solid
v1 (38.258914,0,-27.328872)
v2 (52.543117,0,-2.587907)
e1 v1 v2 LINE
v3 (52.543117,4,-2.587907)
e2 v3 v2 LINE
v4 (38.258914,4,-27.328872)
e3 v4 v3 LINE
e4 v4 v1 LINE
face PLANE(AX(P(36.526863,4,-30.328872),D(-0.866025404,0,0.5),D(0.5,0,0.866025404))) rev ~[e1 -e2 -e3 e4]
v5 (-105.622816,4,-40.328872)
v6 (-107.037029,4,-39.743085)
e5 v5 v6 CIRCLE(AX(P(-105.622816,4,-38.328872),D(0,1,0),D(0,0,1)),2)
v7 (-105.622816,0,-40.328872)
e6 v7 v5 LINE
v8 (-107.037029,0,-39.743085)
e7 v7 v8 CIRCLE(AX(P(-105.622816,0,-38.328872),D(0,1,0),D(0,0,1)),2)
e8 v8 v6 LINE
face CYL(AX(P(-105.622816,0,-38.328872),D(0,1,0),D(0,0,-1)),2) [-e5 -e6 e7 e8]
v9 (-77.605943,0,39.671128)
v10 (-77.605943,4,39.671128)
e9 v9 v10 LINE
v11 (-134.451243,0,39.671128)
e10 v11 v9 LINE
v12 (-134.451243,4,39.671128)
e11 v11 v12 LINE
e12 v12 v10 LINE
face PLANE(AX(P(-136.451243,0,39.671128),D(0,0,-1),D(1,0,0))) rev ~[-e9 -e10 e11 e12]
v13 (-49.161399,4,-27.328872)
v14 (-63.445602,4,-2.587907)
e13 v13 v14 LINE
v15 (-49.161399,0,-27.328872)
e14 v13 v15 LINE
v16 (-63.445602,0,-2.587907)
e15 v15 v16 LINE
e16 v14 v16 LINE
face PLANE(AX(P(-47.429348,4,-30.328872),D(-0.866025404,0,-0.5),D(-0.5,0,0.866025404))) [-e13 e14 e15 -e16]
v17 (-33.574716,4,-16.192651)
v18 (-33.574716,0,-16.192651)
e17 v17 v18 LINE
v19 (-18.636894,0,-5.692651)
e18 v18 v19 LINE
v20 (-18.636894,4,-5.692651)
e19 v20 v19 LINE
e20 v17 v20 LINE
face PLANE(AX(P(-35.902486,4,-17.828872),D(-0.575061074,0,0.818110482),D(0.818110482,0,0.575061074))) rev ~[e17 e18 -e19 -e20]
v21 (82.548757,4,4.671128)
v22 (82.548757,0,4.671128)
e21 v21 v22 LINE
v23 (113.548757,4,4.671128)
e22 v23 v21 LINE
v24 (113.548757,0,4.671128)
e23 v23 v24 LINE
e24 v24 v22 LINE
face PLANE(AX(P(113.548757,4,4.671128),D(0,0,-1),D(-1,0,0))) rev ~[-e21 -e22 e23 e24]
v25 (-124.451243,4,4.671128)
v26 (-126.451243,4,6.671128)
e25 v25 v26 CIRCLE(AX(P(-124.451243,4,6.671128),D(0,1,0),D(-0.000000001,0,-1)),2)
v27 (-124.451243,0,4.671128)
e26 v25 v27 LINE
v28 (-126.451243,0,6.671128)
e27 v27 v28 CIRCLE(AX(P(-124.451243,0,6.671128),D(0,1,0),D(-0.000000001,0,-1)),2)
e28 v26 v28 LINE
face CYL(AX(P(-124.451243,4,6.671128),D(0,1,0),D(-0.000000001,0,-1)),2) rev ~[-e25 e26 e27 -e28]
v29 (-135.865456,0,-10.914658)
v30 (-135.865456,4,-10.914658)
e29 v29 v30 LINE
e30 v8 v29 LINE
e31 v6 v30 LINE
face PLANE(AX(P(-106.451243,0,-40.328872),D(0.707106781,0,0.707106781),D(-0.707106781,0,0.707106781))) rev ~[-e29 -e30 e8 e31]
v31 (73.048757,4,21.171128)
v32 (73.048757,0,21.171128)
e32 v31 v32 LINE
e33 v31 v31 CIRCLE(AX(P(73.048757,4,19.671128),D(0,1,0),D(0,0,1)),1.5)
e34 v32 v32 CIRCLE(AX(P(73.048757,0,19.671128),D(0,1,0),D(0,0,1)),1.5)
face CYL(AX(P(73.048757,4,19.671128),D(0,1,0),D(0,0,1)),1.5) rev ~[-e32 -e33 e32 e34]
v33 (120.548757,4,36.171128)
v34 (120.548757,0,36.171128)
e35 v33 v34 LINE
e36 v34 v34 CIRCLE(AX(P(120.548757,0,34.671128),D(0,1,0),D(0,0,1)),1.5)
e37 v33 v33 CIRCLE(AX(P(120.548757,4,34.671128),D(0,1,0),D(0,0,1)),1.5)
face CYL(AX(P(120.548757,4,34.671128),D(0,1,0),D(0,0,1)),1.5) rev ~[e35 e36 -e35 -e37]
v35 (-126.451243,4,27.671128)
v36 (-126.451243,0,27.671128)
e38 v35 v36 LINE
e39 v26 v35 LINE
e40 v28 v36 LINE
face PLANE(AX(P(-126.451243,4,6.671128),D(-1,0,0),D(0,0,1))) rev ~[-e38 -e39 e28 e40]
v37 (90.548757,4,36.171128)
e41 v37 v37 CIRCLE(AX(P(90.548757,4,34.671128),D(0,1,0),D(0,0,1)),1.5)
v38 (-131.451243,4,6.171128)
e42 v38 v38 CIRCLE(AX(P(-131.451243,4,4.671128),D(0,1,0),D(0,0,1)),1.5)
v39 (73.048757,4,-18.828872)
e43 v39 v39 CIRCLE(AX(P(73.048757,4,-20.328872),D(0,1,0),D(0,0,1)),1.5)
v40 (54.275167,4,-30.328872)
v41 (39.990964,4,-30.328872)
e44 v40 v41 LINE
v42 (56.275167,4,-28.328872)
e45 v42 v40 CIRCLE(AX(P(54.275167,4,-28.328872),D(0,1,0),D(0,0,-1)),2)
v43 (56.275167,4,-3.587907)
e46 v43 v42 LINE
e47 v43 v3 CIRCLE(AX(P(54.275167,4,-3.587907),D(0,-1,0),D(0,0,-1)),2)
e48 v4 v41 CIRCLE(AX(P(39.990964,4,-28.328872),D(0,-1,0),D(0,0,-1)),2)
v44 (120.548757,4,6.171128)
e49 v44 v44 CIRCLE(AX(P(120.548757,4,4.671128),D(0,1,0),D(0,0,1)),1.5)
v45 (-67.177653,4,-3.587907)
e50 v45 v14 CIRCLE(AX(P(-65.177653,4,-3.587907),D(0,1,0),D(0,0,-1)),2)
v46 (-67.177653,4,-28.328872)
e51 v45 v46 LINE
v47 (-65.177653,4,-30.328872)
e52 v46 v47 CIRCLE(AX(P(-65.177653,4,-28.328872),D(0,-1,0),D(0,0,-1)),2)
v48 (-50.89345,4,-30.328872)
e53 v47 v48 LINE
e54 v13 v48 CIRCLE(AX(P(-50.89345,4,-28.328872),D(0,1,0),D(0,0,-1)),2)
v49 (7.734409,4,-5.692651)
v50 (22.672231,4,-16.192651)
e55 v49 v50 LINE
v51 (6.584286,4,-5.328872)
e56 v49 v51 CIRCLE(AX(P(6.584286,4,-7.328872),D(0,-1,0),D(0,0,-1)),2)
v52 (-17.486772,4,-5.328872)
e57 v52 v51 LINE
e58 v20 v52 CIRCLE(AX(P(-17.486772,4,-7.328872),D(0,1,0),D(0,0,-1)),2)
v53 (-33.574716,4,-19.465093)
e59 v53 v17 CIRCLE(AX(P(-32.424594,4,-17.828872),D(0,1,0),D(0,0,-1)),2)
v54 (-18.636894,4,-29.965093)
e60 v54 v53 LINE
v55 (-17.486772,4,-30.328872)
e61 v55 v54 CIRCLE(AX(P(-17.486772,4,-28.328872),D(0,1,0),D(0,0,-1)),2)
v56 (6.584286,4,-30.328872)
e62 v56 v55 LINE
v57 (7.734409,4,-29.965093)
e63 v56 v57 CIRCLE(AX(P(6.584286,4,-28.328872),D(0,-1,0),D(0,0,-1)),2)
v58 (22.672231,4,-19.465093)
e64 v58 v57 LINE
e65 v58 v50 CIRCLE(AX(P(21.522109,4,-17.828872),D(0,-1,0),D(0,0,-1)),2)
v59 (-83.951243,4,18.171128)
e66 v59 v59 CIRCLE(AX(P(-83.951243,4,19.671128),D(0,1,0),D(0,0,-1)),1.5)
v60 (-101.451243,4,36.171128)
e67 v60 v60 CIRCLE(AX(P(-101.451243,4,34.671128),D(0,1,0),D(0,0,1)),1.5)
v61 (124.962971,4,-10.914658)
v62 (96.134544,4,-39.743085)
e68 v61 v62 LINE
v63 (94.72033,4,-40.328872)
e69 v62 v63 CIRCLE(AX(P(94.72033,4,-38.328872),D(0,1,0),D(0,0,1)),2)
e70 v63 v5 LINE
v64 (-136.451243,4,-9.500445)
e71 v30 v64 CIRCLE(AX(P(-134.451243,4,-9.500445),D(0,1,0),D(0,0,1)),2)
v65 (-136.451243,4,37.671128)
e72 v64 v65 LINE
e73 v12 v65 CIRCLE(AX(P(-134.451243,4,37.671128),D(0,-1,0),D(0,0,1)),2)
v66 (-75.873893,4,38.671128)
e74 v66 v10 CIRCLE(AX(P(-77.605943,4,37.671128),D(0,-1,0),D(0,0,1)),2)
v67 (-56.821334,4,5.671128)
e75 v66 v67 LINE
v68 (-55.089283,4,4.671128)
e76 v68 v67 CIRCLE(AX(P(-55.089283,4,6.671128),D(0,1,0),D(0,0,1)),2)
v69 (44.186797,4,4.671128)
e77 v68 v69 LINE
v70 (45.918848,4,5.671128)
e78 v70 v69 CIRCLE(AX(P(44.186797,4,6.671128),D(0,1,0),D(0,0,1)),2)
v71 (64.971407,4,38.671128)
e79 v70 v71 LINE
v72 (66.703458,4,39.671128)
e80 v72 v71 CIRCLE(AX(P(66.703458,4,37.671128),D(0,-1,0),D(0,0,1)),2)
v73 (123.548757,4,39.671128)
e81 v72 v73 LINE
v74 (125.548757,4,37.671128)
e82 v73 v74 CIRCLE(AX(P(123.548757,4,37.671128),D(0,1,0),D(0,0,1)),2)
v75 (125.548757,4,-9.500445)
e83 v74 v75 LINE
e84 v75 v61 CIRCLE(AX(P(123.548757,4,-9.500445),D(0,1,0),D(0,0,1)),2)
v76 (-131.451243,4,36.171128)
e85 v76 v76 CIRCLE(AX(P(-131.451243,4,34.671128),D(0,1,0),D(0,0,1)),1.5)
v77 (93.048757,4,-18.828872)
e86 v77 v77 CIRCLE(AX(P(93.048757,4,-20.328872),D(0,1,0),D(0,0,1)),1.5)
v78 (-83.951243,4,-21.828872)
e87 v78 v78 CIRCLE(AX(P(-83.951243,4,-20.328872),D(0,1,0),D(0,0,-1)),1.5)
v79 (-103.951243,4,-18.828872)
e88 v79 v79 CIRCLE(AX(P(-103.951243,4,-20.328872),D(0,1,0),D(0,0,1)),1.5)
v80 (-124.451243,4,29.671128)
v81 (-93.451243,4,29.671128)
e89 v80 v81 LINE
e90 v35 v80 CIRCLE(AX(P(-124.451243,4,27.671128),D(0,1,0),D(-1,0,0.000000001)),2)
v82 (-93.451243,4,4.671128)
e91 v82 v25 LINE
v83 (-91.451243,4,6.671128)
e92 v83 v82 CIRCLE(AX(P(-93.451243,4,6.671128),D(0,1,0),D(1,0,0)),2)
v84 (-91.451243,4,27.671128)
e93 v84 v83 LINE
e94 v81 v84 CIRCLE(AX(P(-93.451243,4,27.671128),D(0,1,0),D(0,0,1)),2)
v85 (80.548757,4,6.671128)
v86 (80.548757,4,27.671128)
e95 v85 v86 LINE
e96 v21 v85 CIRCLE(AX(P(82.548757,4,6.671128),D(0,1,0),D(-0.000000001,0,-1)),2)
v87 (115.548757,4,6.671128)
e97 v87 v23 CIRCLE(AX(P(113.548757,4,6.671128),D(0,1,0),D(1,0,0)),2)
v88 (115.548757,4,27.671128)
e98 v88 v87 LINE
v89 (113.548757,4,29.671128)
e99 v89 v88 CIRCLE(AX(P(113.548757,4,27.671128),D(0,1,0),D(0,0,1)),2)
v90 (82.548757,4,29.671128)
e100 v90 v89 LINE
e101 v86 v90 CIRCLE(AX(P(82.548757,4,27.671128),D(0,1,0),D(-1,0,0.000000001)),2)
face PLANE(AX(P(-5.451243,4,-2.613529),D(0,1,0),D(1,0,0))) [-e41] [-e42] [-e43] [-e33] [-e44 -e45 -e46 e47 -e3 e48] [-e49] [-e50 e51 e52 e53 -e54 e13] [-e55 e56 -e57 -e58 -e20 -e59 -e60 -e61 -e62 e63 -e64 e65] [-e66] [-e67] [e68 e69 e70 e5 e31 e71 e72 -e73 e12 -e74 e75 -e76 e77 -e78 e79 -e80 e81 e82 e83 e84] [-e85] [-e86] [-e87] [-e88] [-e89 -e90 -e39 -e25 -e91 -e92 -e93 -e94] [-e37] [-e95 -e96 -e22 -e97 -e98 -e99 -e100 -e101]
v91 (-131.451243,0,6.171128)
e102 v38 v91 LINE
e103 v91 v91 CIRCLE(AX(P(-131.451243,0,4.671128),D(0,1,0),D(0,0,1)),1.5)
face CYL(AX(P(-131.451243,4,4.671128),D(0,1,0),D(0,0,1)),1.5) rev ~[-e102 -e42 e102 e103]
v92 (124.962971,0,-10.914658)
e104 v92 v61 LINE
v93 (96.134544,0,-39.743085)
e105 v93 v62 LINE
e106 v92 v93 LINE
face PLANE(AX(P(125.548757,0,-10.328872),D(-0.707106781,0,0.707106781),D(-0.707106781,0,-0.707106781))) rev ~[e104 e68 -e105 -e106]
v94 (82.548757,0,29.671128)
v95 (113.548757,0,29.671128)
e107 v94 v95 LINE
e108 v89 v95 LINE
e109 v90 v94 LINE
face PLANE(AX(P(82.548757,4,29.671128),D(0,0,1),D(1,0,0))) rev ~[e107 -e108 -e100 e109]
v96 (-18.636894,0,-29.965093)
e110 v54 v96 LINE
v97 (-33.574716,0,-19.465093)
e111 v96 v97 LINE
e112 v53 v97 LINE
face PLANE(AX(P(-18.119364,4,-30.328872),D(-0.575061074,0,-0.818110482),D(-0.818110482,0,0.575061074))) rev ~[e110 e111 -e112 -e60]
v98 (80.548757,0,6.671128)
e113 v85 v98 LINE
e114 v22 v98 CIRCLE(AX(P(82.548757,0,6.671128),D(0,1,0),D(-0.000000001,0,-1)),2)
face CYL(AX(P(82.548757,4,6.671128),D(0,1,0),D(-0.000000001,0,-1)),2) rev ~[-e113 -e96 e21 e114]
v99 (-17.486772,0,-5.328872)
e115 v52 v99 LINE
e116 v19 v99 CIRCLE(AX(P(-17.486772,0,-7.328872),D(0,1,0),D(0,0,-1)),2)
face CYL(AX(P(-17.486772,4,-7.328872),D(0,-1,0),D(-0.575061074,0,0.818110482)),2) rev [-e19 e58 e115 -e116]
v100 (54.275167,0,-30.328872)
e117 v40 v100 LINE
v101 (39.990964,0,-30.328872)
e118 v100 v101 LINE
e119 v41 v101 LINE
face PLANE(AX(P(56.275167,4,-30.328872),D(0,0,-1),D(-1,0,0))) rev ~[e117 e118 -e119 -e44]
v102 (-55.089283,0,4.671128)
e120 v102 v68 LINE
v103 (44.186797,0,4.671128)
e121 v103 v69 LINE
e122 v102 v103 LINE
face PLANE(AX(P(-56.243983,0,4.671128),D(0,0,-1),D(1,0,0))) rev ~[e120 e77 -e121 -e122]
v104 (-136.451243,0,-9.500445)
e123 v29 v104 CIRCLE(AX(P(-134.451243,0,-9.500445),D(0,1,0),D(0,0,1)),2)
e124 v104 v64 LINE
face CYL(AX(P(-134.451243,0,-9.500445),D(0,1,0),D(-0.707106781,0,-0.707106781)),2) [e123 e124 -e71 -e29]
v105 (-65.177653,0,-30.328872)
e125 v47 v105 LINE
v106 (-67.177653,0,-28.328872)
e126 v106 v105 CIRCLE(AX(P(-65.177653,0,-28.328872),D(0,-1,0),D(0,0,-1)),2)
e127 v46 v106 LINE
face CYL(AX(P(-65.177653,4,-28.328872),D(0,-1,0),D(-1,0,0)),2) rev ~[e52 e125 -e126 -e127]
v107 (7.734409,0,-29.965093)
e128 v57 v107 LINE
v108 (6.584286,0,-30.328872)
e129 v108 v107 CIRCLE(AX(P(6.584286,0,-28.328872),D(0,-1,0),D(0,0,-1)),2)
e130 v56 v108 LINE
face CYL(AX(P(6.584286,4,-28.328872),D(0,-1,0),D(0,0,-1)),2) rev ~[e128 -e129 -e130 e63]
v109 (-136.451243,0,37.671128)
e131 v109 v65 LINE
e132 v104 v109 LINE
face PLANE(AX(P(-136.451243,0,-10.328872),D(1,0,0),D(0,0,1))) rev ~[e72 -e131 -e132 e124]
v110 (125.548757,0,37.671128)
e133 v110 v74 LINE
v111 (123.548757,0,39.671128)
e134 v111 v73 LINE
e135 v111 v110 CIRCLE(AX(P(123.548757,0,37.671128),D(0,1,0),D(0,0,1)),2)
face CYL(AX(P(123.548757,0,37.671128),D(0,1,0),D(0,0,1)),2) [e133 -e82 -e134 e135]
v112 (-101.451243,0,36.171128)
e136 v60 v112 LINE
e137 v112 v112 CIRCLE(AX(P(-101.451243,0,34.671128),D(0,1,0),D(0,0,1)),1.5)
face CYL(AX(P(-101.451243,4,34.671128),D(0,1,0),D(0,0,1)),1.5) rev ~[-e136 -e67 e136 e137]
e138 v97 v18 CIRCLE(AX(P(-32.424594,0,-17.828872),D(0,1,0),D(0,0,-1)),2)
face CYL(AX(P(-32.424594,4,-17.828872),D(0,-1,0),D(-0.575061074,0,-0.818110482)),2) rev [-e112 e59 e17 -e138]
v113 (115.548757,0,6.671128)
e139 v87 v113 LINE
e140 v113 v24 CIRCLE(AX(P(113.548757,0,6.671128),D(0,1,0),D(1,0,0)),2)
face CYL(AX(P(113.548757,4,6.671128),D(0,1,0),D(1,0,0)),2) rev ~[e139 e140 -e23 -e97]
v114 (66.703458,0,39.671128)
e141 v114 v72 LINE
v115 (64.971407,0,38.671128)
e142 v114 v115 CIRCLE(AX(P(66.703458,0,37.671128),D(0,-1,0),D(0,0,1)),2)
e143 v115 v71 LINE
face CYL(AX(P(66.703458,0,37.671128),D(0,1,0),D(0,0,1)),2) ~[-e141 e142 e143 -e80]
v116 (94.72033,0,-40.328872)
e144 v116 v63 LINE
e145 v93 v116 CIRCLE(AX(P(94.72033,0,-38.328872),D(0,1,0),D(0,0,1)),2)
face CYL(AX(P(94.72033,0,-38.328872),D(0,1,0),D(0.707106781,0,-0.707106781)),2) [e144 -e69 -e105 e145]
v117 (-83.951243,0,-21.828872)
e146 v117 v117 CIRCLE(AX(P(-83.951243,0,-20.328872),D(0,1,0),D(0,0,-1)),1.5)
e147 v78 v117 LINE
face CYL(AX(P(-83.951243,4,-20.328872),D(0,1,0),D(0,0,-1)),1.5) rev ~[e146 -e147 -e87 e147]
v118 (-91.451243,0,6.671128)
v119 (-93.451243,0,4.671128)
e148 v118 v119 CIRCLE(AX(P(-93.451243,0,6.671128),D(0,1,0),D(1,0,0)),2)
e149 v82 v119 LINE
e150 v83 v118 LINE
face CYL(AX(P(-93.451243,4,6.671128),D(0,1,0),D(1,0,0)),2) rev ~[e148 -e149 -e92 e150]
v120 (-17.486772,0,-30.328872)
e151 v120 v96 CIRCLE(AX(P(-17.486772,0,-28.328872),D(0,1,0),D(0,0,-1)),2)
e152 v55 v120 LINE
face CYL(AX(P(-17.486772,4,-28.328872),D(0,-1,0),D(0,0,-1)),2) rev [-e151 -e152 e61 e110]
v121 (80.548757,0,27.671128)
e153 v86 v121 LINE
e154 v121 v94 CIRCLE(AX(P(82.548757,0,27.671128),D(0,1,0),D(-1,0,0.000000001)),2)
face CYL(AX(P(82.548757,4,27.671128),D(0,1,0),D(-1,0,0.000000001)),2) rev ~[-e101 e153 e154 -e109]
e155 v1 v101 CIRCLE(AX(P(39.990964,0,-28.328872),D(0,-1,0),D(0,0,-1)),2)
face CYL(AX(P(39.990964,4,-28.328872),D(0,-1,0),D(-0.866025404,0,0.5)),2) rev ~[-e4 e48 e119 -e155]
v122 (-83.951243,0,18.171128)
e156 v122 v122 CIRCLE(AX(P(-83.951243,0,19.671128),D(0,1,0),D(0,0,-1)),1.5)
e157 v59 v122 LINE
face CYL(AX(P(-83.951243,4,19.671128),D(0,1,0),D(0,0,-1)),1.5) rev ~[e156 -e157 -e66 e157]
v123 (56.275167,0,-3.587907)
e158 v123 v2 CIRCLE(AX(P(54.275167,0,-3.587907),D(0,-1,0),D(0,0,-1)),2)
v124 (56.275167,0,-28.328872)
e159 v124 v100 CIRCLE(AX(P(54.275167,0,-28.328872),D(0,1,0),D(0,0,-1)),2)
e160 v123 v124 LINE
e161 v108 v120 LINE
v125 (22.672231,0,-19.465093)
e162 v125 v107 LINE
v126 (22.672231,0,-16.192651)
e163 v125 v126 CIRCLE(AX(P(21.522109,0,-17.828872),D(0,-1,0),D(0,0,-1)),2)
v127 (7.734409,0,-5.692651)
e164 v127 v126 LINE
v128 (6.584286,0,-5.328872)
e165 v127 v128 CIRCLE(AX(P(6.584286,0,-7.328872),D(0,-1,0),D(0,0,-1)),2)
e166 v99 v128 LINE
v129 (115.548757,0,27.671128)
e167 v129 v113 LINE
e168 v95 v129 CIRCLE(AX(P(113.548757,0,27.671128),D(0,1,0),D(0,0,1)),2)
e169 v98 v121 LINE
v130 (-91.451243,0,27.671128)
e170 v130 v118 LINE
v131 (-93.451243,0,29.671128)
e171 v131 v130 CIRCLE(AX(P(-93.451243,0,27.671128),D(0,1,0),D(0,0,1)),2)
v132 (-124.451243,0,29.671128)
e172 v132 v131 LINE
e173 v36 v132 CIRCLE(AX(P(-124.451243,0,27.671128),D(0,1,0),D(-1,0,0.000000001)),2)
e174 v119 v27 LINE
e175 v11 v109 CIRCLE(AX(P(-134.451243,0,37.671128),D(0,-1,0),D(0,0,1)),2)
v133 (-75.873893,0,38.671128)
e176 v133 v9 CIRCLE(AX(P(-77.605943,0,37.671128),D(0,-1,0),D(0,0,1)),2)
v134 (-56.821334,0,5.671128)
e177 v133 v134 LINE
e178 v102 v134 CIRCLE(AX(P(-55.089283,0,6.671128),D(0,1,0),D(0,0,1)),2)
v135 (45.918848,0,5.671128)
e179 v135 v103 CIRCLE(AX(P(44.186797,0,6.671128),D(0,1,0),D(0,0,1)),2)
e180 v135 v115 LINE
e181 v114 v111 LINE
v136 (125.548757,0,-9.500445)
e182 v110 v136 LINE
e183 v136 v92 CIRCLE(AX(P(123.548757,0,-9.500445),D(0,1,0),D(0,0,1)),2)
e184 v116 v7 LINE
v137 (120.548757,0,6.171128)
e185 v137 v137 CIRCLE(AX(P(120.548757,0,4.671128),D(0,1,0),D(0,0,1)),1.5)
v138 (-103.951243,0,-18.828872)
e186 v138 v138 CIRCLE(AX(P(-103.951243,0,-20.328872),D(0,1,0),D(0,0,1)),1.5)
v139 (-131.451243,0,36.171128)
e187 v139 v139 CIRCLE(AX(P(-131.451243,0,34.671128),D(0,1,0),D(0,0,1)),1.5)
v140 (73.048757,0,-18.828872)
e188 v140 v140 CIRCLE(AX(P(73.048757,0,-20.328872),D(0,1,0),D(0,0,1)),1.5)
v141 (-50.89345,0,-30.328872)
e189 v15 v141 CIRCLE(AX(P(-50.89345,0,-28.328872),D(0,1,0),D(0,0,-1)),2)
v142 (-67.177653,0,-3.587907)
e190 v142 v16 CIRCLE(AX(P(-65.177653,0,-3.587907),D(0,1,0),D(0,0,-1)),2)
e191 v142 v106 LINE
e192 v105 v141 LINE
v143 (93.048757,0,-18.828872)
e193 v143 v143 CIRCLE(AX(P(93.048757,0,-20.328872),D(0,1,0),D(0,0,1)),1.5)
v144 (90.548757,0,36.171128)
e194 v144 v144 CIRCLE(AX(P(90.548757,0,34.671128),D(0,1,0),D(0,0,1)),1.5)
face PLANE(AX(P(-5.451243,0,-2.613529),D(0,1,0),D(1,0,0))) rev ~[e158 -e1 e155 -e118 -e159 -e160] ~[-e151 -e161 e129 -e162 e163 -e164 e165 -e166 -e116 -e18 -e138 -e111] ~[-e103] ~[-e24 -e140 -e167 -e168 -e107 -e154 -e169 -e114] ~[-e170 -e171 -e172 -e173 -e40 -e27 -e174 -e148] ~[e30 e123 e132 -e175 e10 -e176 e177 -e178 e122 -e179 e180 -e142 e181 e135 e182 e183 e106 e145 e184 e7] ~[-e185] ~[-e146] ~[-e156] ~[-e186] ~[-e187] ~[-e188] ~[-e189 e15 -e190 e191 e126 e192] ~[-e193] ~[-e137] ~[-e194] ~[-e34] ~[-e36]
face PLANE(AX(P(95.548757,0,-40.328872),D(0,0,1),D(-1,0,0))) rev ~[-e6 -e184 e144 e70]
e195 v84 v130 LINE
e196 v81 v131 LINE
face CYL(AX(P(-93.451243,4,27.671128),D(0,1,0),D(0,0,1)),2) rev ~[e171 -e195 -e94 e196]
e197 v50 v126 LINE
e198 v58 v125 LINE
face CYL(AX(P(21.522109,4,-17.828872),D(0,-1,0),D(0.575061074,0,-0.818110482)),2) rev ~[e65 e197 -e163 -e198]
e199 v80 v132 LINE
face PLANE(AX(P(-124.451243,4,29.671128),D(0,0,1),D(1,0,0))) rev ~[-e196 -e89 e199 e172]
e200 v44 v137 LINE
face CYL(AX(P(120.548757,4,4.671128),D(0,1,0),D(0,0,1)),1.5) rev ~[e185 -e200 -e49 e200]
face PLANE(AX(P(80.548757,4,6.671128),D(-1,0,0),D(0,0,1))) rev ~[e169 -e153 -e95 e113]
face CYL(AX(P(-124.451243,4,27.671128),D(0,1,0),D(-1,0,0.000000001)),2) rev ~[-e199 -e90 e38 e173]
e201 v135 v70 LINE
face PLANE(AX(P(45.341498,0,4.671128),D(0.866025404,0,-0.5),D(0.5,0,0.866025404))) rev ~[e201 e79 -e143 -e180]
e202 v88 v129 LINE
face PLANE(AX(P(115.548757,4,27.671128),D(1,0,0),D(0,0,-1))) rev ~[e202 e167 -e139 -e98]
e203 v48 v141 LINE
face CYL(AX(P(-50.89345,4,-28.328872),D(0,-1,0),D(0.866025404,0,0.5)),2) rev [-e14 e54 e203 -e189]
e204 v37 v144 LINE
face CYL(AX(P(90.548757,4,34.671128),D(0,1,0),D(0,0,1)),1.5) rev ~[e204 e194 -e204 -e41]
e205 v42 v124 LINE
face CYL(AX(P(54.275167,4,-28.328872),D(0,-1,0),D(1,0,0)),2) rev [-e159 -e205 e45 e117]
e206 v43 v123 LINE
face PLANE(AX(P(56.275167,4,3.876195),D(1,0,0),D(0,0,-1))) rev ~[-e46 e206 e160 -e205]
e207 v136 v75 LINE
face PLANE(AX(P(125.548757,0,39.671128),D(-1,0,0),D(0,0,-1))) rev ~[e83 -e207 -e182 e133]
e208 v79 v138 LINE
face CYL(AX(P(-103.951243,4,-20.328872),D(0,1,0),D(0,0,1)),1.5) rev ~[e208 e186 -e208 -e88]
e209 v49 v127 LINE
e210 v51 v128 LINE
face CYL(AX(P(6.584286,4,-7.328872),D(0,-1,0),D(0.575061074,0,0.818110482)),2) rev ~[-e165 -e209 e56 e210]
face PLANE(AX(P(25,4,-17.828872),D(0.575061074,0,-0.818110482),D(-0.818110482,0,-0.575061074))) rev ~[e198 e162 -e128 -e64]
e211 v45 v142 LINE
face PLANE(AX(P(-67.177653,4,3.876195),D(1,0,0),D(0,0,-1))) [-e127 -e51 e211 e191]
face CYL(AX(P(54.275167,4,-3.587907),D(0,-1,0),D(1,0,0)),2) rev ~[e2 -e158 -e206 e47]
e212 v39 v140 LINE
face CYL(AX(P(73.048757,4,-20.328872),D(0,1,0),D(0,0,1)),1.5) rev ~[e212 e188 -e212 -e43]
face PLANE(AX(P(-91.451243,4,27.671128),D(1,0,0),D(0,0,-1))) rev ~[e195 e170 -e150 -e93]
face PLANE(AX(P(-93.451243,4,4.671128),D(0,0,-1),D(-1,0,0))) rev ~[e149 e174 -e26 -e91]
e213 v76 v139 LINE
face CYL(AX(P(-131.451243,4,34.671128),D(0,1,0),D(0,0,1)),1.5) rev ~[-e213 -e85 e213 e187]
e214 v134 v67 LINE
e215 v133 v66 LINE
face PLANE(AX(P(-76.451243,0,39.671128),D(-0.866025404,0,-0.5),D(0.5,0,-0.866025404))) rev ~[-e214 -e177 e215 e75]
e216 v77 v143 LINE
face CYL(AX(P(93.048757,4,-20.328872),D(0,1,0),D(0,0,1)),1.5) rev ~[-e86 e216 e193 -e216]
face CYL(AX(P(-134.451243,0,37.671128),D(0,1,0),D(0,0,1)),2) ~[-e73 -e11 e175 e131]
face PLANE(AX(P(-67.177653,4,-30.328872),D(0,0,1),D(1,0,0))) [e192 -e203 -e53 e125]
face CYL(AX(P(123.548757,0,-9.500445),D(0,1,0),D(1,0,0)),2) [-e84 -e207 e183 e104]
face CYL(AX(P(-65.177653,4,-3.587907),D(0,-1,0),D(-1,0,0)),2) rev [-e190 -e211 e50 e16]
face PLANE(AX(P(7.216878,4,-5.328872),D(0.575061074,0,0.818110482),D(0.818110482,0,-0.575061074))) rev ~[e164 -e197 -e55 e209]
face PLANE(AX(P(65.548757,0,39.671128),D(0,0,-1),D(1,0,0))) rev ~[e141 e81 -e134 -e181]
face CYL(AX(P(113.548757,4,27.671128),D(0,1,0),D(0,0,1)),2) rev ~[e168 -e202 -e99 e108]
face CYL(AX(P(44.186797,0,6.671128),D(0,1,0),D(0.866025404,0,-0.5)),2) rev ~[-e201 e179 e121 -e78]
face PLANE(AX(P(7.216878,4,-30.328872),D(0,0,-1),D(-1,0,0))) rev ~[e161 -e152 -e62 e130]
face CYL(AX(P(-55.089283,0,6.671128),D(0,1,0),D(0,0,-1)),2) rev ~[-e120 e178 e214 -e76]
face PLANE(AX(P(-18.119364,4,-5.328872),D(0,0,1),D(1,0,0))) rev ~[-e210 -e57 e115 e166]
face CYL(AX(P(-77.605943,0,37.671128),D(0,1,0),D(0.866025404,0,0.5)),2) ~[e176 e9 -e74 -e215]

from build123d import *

# Parameters (mm, degrees)
EXTRUDE_1_DEPTH     = 4
CUT_EXTRUDE_1_DEPTH = 4
CUT_EXTRUDE_2_DEPTH = 4
CUT_EXTRUDE_3_DEPTH = 4
FILLET_1_R          = 2
FILLET_2_R          = 2
SKETCH_5_R          = 1.5
CUT_EXTRUDE_4_DEPTH = 4
SKETCH_6_R          = 1.5
CUT_EXTRUDE_5_DEPTH = 4
SKETCH_7_R          = 1.5
CUT_EXTRUDE_6_DEPTH = 4
SKETCH_8_R          = 1.5
CUT_EXTRUDE_7_DEPTH = 4
SKETCH_9_R          = 1.5
CUT_EXTRUDE_8_DEPTH = 4
FILLET_3_R          = 2


with BuildPart() as part:
    # 草图1 → 凸台-拉伸1 (new body)
    with BuildSketch(Plane(origin=(0, 0, 0), x_dir=(1, 0, 0), z_dir=(0, 1, 0))):
        Polygon((65.54875717, -39.671128107), (125.54875717, -39.671128107), (125.54875717, 10.328871893), (95.54875717, 40.328871893), (-106.45124283, 40.328871893), (-136.45124283, 10.328871893), (-136.45124283, -39.671128107), (-76.45124283, -39.671128107), (-56.243983408, -4.671128107), (45.341497749, -4.671128107), align=None)
    extrude(amount=EXTRUDE_1_DEPTH)

    # 草图2 → 切除-拉伸1 (cut)
    with BuildSketch(Plane(origin=(0, 4, 0), x_dir=(1, 0, 0), z_dir=(0, 1, 0))):
        Polygon((7.216878365, 30.328871893), (-18.119364025, 30.328871893), (-35.90248566, 17.828871893), (-18.119364025, 5.328871893), (7.216878365, 5.328871893), (25, 17.828871893), align=None)
    extrude(amount=-CUT_EXTRUDE_1_DEPTH, mode=Mode.SUBTRACT)

    # 草图3 → 切除-拉伸2 (cut)
    with BuildSketch(Plane(origin=(0, 4, 0), x_dir=(1, 0, 0), z_dir=(0, 1, 0))):
        Polygon((-67.177653117, 30.328871893), (-47.429348489, 30.328871893), (-67.177653117, -3.876195086), align=None)
        Polygon((56.275167457, -3.876195086), (56.275167457, 30.328871893), (36.52686283, 30.328871893), align=None)
    extrude(amount=-CUT_EXTRUDE_2_DEPTH, mode=Mode.SUBTRACT)

    # 草图4 → 切除-拉伸3 (cut)
    with BuildSketch(Plane(origin=(0, 4, 0), x_dir=(1, 0, 0), z_dir=(0, 1, 0))):
        with BuildLine():
            Line((-124.45124283, -29.671128107), (-93.45124283, -29.671128107))
            ThreePointArc((-93.45124283, -29.671128107), (-92.037029267, -29.085341669), (-91.45124283, -27.671128107))
            Line((-91.45124283, -27.671128107), (-91.45124283, -6.671128107))
            ThreePointArc((-91.45124283, -6.671128107), (-92.037029267, -5.256914545), (-93.45124283, -4.671128107))
            Line((-93.45124283, -4.671128107), (-124.45124283, -4.671128107))
            ThreePointArc((-124.45124283, -4.671128107), (-125.865456392, -5.256914545), (-126.45124283, -6.671128107))
            Line((-126.45124283, -6.671128107), (-126.45124283, -27.671128107))
            ThreePointArc((-126.45124283, -27.671128107), (-125.865456392, -29.085341669), (-124.45124283, -29.671128107))
        make_face()
        with BuildLine():
            Line((115.54875717, -27.671128107), (115.54875717, -6.671128107))
            ThreePointArc((115.54875717, -6.671128107), (114.962970733, -5.256914545), (113.54875717, -4.671128107))
            Line((113.54875717, -4.671128107), (82.54875717, -4.671128107))
            ThreePointArc((82.54875717, -4.671128107), (81.134543608, -5.256914545), (80.54875717, -6.671128107))
            Line((80.54875717, -6.671128107), (80.54875717, -27.671128107))
            ThreePointArc((80.54875717, -27.671128107), (81.134543608, -29.085341669), (82.54875717, -29.671128107))
            Line((82.54875717, -29.671128107), (113.54875717, -29.671128107))
            ThreePointArc((113.54875717, -29.671128107), (114.962970733, -29.085341669), (115.54875717, -27.671128107))
        make_face()
    extrude(amount=-CUT_EXTRUDE_3_DEPTH, mode=Mode.SUBTRACT)

    # 圆角1
    fillet_1_edges = [part.edges().sort_by_distance(p)[0] for p in [
        (-67.177653117, 2, 3.876195086),
        (-67.177653117, 2, -30.328871893),
        (-47.429348489, 2, -30.328871893),
        (56.275167457, 2, 3.876195086),
        (36.52686283, 2, -30.328871893),
        (56.275167457, 2, -30.328871893),
    ]]
    fillet(fillet_1_edges, radius=FILLET_1_R)

    # 圆角2
    fillet_2_edges = [part.edges().sort_by_distance(p)[0] for p in [
        (-136.45124283, 2, -10.328871893),
        (-106.45124283, 2, -40.328871893),
        (95.54875717, 2, -40.328871893),
        (125.54875717, 2, -10.328871893),
        (125.54875717, 2, 39.671128107),
        (65.54875717, 2, 39.671128107),
        (45.341497749, 2, 4.671128107),
        (-56.243983408, 2, 4.671128107),
        (-76.45124283, 2, 39.671128107),
        (-136.45124283, 2, 39.671128107),
    ]]
    fillet(fillet_2_edges, radius=FILLET_2_R)

    # 草图5 → 切除-拉伸4 (cut)
    with BuildSketch(Plane(origin=(0, 4, 0), x_dir=(1, 0, 0), z_dir=(0, 1, 0))):
        with Locations(Location((73.04875717, -19.671128107, 0), (0, 0, 270))):
            Circle(SKETCH_5_R)
        with Locations(Location((73.04875717, 20.328871893, 0), (0, 0, 270))):
            Circle(SKETCH_5_R)
        with Locations(Location((-83.95124283, -19.671128107, 0), (0, 0, 90))):
            Circle(SKETCH_5_R)
        with Locations(Location((-83.95124283, 20.328871893, 0), (0, 0, 90))):
            Circle(SKETCH_5_R)
    extrude(amount=-CUT_EXTRUDE_4_DEPTH, mode=Mode.SUBTRACT)

    # 草图6 → 切除-拉伸5 (cut)
    with BuildSketch(Plane(origin=(0, 4, 0), x_dir=(1, 0, 0), z_dir=(0, 1, 0))):
        with Locations(Location((120.54875717, -34.671128107, 0), (0, 0, 270))):
            Circle(SKETCH_6_R)
        with Locations(Location((93.04875717, 20.328871893, 0), (0, 0, 270))):
            Circle(SKETCH_6_R)
        with Locations(Location((90.54875717, -34.671128107, 0), (0, 0, 270))):
            Circle(SKETCH_6_R)
    extrude(amount=-CUT_EXTRUDE_5_DEPTH, mode=Mode.SUBTRACT)

    # 草图7 → 切除-拉伸6 (cut)
    with BuildSketch(Plane(origin=(0, 4, 0), x_dir=(1, 0, 0), z_dir=(0, 1, 0))):
        with Locations(Location((120.54875717, -4.671128107, 0), (0, 0, 270))):
            Circle(SKETCH_7_R)
    extrude(amount=-CUT_EXTRUDE_6_DEPTH, mode=Mode.SUBTRACT)

    # 草图8 → 切除-拉伸7 (cut)
    with BuildSketch(Plane(origin=(0, 4, 0), x_dir=(1, 0, 0), z_dir=(0, 1, 0))):
        with Locations(Location((-131.45124283, -34.671128107, 0), (0, 0, 270))):
            Circle(SKETCH_8_R)
        with Locations(Location((-101.45124283, -34.671128107, 0), (0, 0, 270))):
            Circle(SKETCH_8_R)
        with Locations(Location((-131.45124283, -4.671128107, 0), (0, 0, 270))):
            Circle(SKETCH_8_R)
    extrude(amount=-CUT_EXTRUDE_7_DEPTH, mode=Mode.SUBTRACT)

    # 草图9 → 切除-拉伸8 (cut)
    with BuildSketch(Plane(origin=(0, 4, 0), x_dir=(1, 0, 0), z_dir=(0, 1, 0))):
        with Locations(Location((-103.95124283, 20.328871893, 0), (0, 0, 270))):
            Circle(SKETCH_9_R)
    extrude(amount=-CUT_EXTRUDE_8_DEPTH, mode=Mode.SUBTRACT)

    # 圆角3
    fillet_3_edges = [part.edges().sort_by_distance(p)[0] for p in [
        (7.216878365, 2, -30.328871893),
        (25, 2, -17.828871893),
        (7.216878365, 2, -5.328871893),
        (-18.119364025, 2, -5.328871893),
        (-35.90248566, 2, -17.828871893),
        (-18.119364025, 2, -30.328871893),
    ]]
    fillet(fillet_3_edges, radius=FILLET_3_R)


solid = part.part
